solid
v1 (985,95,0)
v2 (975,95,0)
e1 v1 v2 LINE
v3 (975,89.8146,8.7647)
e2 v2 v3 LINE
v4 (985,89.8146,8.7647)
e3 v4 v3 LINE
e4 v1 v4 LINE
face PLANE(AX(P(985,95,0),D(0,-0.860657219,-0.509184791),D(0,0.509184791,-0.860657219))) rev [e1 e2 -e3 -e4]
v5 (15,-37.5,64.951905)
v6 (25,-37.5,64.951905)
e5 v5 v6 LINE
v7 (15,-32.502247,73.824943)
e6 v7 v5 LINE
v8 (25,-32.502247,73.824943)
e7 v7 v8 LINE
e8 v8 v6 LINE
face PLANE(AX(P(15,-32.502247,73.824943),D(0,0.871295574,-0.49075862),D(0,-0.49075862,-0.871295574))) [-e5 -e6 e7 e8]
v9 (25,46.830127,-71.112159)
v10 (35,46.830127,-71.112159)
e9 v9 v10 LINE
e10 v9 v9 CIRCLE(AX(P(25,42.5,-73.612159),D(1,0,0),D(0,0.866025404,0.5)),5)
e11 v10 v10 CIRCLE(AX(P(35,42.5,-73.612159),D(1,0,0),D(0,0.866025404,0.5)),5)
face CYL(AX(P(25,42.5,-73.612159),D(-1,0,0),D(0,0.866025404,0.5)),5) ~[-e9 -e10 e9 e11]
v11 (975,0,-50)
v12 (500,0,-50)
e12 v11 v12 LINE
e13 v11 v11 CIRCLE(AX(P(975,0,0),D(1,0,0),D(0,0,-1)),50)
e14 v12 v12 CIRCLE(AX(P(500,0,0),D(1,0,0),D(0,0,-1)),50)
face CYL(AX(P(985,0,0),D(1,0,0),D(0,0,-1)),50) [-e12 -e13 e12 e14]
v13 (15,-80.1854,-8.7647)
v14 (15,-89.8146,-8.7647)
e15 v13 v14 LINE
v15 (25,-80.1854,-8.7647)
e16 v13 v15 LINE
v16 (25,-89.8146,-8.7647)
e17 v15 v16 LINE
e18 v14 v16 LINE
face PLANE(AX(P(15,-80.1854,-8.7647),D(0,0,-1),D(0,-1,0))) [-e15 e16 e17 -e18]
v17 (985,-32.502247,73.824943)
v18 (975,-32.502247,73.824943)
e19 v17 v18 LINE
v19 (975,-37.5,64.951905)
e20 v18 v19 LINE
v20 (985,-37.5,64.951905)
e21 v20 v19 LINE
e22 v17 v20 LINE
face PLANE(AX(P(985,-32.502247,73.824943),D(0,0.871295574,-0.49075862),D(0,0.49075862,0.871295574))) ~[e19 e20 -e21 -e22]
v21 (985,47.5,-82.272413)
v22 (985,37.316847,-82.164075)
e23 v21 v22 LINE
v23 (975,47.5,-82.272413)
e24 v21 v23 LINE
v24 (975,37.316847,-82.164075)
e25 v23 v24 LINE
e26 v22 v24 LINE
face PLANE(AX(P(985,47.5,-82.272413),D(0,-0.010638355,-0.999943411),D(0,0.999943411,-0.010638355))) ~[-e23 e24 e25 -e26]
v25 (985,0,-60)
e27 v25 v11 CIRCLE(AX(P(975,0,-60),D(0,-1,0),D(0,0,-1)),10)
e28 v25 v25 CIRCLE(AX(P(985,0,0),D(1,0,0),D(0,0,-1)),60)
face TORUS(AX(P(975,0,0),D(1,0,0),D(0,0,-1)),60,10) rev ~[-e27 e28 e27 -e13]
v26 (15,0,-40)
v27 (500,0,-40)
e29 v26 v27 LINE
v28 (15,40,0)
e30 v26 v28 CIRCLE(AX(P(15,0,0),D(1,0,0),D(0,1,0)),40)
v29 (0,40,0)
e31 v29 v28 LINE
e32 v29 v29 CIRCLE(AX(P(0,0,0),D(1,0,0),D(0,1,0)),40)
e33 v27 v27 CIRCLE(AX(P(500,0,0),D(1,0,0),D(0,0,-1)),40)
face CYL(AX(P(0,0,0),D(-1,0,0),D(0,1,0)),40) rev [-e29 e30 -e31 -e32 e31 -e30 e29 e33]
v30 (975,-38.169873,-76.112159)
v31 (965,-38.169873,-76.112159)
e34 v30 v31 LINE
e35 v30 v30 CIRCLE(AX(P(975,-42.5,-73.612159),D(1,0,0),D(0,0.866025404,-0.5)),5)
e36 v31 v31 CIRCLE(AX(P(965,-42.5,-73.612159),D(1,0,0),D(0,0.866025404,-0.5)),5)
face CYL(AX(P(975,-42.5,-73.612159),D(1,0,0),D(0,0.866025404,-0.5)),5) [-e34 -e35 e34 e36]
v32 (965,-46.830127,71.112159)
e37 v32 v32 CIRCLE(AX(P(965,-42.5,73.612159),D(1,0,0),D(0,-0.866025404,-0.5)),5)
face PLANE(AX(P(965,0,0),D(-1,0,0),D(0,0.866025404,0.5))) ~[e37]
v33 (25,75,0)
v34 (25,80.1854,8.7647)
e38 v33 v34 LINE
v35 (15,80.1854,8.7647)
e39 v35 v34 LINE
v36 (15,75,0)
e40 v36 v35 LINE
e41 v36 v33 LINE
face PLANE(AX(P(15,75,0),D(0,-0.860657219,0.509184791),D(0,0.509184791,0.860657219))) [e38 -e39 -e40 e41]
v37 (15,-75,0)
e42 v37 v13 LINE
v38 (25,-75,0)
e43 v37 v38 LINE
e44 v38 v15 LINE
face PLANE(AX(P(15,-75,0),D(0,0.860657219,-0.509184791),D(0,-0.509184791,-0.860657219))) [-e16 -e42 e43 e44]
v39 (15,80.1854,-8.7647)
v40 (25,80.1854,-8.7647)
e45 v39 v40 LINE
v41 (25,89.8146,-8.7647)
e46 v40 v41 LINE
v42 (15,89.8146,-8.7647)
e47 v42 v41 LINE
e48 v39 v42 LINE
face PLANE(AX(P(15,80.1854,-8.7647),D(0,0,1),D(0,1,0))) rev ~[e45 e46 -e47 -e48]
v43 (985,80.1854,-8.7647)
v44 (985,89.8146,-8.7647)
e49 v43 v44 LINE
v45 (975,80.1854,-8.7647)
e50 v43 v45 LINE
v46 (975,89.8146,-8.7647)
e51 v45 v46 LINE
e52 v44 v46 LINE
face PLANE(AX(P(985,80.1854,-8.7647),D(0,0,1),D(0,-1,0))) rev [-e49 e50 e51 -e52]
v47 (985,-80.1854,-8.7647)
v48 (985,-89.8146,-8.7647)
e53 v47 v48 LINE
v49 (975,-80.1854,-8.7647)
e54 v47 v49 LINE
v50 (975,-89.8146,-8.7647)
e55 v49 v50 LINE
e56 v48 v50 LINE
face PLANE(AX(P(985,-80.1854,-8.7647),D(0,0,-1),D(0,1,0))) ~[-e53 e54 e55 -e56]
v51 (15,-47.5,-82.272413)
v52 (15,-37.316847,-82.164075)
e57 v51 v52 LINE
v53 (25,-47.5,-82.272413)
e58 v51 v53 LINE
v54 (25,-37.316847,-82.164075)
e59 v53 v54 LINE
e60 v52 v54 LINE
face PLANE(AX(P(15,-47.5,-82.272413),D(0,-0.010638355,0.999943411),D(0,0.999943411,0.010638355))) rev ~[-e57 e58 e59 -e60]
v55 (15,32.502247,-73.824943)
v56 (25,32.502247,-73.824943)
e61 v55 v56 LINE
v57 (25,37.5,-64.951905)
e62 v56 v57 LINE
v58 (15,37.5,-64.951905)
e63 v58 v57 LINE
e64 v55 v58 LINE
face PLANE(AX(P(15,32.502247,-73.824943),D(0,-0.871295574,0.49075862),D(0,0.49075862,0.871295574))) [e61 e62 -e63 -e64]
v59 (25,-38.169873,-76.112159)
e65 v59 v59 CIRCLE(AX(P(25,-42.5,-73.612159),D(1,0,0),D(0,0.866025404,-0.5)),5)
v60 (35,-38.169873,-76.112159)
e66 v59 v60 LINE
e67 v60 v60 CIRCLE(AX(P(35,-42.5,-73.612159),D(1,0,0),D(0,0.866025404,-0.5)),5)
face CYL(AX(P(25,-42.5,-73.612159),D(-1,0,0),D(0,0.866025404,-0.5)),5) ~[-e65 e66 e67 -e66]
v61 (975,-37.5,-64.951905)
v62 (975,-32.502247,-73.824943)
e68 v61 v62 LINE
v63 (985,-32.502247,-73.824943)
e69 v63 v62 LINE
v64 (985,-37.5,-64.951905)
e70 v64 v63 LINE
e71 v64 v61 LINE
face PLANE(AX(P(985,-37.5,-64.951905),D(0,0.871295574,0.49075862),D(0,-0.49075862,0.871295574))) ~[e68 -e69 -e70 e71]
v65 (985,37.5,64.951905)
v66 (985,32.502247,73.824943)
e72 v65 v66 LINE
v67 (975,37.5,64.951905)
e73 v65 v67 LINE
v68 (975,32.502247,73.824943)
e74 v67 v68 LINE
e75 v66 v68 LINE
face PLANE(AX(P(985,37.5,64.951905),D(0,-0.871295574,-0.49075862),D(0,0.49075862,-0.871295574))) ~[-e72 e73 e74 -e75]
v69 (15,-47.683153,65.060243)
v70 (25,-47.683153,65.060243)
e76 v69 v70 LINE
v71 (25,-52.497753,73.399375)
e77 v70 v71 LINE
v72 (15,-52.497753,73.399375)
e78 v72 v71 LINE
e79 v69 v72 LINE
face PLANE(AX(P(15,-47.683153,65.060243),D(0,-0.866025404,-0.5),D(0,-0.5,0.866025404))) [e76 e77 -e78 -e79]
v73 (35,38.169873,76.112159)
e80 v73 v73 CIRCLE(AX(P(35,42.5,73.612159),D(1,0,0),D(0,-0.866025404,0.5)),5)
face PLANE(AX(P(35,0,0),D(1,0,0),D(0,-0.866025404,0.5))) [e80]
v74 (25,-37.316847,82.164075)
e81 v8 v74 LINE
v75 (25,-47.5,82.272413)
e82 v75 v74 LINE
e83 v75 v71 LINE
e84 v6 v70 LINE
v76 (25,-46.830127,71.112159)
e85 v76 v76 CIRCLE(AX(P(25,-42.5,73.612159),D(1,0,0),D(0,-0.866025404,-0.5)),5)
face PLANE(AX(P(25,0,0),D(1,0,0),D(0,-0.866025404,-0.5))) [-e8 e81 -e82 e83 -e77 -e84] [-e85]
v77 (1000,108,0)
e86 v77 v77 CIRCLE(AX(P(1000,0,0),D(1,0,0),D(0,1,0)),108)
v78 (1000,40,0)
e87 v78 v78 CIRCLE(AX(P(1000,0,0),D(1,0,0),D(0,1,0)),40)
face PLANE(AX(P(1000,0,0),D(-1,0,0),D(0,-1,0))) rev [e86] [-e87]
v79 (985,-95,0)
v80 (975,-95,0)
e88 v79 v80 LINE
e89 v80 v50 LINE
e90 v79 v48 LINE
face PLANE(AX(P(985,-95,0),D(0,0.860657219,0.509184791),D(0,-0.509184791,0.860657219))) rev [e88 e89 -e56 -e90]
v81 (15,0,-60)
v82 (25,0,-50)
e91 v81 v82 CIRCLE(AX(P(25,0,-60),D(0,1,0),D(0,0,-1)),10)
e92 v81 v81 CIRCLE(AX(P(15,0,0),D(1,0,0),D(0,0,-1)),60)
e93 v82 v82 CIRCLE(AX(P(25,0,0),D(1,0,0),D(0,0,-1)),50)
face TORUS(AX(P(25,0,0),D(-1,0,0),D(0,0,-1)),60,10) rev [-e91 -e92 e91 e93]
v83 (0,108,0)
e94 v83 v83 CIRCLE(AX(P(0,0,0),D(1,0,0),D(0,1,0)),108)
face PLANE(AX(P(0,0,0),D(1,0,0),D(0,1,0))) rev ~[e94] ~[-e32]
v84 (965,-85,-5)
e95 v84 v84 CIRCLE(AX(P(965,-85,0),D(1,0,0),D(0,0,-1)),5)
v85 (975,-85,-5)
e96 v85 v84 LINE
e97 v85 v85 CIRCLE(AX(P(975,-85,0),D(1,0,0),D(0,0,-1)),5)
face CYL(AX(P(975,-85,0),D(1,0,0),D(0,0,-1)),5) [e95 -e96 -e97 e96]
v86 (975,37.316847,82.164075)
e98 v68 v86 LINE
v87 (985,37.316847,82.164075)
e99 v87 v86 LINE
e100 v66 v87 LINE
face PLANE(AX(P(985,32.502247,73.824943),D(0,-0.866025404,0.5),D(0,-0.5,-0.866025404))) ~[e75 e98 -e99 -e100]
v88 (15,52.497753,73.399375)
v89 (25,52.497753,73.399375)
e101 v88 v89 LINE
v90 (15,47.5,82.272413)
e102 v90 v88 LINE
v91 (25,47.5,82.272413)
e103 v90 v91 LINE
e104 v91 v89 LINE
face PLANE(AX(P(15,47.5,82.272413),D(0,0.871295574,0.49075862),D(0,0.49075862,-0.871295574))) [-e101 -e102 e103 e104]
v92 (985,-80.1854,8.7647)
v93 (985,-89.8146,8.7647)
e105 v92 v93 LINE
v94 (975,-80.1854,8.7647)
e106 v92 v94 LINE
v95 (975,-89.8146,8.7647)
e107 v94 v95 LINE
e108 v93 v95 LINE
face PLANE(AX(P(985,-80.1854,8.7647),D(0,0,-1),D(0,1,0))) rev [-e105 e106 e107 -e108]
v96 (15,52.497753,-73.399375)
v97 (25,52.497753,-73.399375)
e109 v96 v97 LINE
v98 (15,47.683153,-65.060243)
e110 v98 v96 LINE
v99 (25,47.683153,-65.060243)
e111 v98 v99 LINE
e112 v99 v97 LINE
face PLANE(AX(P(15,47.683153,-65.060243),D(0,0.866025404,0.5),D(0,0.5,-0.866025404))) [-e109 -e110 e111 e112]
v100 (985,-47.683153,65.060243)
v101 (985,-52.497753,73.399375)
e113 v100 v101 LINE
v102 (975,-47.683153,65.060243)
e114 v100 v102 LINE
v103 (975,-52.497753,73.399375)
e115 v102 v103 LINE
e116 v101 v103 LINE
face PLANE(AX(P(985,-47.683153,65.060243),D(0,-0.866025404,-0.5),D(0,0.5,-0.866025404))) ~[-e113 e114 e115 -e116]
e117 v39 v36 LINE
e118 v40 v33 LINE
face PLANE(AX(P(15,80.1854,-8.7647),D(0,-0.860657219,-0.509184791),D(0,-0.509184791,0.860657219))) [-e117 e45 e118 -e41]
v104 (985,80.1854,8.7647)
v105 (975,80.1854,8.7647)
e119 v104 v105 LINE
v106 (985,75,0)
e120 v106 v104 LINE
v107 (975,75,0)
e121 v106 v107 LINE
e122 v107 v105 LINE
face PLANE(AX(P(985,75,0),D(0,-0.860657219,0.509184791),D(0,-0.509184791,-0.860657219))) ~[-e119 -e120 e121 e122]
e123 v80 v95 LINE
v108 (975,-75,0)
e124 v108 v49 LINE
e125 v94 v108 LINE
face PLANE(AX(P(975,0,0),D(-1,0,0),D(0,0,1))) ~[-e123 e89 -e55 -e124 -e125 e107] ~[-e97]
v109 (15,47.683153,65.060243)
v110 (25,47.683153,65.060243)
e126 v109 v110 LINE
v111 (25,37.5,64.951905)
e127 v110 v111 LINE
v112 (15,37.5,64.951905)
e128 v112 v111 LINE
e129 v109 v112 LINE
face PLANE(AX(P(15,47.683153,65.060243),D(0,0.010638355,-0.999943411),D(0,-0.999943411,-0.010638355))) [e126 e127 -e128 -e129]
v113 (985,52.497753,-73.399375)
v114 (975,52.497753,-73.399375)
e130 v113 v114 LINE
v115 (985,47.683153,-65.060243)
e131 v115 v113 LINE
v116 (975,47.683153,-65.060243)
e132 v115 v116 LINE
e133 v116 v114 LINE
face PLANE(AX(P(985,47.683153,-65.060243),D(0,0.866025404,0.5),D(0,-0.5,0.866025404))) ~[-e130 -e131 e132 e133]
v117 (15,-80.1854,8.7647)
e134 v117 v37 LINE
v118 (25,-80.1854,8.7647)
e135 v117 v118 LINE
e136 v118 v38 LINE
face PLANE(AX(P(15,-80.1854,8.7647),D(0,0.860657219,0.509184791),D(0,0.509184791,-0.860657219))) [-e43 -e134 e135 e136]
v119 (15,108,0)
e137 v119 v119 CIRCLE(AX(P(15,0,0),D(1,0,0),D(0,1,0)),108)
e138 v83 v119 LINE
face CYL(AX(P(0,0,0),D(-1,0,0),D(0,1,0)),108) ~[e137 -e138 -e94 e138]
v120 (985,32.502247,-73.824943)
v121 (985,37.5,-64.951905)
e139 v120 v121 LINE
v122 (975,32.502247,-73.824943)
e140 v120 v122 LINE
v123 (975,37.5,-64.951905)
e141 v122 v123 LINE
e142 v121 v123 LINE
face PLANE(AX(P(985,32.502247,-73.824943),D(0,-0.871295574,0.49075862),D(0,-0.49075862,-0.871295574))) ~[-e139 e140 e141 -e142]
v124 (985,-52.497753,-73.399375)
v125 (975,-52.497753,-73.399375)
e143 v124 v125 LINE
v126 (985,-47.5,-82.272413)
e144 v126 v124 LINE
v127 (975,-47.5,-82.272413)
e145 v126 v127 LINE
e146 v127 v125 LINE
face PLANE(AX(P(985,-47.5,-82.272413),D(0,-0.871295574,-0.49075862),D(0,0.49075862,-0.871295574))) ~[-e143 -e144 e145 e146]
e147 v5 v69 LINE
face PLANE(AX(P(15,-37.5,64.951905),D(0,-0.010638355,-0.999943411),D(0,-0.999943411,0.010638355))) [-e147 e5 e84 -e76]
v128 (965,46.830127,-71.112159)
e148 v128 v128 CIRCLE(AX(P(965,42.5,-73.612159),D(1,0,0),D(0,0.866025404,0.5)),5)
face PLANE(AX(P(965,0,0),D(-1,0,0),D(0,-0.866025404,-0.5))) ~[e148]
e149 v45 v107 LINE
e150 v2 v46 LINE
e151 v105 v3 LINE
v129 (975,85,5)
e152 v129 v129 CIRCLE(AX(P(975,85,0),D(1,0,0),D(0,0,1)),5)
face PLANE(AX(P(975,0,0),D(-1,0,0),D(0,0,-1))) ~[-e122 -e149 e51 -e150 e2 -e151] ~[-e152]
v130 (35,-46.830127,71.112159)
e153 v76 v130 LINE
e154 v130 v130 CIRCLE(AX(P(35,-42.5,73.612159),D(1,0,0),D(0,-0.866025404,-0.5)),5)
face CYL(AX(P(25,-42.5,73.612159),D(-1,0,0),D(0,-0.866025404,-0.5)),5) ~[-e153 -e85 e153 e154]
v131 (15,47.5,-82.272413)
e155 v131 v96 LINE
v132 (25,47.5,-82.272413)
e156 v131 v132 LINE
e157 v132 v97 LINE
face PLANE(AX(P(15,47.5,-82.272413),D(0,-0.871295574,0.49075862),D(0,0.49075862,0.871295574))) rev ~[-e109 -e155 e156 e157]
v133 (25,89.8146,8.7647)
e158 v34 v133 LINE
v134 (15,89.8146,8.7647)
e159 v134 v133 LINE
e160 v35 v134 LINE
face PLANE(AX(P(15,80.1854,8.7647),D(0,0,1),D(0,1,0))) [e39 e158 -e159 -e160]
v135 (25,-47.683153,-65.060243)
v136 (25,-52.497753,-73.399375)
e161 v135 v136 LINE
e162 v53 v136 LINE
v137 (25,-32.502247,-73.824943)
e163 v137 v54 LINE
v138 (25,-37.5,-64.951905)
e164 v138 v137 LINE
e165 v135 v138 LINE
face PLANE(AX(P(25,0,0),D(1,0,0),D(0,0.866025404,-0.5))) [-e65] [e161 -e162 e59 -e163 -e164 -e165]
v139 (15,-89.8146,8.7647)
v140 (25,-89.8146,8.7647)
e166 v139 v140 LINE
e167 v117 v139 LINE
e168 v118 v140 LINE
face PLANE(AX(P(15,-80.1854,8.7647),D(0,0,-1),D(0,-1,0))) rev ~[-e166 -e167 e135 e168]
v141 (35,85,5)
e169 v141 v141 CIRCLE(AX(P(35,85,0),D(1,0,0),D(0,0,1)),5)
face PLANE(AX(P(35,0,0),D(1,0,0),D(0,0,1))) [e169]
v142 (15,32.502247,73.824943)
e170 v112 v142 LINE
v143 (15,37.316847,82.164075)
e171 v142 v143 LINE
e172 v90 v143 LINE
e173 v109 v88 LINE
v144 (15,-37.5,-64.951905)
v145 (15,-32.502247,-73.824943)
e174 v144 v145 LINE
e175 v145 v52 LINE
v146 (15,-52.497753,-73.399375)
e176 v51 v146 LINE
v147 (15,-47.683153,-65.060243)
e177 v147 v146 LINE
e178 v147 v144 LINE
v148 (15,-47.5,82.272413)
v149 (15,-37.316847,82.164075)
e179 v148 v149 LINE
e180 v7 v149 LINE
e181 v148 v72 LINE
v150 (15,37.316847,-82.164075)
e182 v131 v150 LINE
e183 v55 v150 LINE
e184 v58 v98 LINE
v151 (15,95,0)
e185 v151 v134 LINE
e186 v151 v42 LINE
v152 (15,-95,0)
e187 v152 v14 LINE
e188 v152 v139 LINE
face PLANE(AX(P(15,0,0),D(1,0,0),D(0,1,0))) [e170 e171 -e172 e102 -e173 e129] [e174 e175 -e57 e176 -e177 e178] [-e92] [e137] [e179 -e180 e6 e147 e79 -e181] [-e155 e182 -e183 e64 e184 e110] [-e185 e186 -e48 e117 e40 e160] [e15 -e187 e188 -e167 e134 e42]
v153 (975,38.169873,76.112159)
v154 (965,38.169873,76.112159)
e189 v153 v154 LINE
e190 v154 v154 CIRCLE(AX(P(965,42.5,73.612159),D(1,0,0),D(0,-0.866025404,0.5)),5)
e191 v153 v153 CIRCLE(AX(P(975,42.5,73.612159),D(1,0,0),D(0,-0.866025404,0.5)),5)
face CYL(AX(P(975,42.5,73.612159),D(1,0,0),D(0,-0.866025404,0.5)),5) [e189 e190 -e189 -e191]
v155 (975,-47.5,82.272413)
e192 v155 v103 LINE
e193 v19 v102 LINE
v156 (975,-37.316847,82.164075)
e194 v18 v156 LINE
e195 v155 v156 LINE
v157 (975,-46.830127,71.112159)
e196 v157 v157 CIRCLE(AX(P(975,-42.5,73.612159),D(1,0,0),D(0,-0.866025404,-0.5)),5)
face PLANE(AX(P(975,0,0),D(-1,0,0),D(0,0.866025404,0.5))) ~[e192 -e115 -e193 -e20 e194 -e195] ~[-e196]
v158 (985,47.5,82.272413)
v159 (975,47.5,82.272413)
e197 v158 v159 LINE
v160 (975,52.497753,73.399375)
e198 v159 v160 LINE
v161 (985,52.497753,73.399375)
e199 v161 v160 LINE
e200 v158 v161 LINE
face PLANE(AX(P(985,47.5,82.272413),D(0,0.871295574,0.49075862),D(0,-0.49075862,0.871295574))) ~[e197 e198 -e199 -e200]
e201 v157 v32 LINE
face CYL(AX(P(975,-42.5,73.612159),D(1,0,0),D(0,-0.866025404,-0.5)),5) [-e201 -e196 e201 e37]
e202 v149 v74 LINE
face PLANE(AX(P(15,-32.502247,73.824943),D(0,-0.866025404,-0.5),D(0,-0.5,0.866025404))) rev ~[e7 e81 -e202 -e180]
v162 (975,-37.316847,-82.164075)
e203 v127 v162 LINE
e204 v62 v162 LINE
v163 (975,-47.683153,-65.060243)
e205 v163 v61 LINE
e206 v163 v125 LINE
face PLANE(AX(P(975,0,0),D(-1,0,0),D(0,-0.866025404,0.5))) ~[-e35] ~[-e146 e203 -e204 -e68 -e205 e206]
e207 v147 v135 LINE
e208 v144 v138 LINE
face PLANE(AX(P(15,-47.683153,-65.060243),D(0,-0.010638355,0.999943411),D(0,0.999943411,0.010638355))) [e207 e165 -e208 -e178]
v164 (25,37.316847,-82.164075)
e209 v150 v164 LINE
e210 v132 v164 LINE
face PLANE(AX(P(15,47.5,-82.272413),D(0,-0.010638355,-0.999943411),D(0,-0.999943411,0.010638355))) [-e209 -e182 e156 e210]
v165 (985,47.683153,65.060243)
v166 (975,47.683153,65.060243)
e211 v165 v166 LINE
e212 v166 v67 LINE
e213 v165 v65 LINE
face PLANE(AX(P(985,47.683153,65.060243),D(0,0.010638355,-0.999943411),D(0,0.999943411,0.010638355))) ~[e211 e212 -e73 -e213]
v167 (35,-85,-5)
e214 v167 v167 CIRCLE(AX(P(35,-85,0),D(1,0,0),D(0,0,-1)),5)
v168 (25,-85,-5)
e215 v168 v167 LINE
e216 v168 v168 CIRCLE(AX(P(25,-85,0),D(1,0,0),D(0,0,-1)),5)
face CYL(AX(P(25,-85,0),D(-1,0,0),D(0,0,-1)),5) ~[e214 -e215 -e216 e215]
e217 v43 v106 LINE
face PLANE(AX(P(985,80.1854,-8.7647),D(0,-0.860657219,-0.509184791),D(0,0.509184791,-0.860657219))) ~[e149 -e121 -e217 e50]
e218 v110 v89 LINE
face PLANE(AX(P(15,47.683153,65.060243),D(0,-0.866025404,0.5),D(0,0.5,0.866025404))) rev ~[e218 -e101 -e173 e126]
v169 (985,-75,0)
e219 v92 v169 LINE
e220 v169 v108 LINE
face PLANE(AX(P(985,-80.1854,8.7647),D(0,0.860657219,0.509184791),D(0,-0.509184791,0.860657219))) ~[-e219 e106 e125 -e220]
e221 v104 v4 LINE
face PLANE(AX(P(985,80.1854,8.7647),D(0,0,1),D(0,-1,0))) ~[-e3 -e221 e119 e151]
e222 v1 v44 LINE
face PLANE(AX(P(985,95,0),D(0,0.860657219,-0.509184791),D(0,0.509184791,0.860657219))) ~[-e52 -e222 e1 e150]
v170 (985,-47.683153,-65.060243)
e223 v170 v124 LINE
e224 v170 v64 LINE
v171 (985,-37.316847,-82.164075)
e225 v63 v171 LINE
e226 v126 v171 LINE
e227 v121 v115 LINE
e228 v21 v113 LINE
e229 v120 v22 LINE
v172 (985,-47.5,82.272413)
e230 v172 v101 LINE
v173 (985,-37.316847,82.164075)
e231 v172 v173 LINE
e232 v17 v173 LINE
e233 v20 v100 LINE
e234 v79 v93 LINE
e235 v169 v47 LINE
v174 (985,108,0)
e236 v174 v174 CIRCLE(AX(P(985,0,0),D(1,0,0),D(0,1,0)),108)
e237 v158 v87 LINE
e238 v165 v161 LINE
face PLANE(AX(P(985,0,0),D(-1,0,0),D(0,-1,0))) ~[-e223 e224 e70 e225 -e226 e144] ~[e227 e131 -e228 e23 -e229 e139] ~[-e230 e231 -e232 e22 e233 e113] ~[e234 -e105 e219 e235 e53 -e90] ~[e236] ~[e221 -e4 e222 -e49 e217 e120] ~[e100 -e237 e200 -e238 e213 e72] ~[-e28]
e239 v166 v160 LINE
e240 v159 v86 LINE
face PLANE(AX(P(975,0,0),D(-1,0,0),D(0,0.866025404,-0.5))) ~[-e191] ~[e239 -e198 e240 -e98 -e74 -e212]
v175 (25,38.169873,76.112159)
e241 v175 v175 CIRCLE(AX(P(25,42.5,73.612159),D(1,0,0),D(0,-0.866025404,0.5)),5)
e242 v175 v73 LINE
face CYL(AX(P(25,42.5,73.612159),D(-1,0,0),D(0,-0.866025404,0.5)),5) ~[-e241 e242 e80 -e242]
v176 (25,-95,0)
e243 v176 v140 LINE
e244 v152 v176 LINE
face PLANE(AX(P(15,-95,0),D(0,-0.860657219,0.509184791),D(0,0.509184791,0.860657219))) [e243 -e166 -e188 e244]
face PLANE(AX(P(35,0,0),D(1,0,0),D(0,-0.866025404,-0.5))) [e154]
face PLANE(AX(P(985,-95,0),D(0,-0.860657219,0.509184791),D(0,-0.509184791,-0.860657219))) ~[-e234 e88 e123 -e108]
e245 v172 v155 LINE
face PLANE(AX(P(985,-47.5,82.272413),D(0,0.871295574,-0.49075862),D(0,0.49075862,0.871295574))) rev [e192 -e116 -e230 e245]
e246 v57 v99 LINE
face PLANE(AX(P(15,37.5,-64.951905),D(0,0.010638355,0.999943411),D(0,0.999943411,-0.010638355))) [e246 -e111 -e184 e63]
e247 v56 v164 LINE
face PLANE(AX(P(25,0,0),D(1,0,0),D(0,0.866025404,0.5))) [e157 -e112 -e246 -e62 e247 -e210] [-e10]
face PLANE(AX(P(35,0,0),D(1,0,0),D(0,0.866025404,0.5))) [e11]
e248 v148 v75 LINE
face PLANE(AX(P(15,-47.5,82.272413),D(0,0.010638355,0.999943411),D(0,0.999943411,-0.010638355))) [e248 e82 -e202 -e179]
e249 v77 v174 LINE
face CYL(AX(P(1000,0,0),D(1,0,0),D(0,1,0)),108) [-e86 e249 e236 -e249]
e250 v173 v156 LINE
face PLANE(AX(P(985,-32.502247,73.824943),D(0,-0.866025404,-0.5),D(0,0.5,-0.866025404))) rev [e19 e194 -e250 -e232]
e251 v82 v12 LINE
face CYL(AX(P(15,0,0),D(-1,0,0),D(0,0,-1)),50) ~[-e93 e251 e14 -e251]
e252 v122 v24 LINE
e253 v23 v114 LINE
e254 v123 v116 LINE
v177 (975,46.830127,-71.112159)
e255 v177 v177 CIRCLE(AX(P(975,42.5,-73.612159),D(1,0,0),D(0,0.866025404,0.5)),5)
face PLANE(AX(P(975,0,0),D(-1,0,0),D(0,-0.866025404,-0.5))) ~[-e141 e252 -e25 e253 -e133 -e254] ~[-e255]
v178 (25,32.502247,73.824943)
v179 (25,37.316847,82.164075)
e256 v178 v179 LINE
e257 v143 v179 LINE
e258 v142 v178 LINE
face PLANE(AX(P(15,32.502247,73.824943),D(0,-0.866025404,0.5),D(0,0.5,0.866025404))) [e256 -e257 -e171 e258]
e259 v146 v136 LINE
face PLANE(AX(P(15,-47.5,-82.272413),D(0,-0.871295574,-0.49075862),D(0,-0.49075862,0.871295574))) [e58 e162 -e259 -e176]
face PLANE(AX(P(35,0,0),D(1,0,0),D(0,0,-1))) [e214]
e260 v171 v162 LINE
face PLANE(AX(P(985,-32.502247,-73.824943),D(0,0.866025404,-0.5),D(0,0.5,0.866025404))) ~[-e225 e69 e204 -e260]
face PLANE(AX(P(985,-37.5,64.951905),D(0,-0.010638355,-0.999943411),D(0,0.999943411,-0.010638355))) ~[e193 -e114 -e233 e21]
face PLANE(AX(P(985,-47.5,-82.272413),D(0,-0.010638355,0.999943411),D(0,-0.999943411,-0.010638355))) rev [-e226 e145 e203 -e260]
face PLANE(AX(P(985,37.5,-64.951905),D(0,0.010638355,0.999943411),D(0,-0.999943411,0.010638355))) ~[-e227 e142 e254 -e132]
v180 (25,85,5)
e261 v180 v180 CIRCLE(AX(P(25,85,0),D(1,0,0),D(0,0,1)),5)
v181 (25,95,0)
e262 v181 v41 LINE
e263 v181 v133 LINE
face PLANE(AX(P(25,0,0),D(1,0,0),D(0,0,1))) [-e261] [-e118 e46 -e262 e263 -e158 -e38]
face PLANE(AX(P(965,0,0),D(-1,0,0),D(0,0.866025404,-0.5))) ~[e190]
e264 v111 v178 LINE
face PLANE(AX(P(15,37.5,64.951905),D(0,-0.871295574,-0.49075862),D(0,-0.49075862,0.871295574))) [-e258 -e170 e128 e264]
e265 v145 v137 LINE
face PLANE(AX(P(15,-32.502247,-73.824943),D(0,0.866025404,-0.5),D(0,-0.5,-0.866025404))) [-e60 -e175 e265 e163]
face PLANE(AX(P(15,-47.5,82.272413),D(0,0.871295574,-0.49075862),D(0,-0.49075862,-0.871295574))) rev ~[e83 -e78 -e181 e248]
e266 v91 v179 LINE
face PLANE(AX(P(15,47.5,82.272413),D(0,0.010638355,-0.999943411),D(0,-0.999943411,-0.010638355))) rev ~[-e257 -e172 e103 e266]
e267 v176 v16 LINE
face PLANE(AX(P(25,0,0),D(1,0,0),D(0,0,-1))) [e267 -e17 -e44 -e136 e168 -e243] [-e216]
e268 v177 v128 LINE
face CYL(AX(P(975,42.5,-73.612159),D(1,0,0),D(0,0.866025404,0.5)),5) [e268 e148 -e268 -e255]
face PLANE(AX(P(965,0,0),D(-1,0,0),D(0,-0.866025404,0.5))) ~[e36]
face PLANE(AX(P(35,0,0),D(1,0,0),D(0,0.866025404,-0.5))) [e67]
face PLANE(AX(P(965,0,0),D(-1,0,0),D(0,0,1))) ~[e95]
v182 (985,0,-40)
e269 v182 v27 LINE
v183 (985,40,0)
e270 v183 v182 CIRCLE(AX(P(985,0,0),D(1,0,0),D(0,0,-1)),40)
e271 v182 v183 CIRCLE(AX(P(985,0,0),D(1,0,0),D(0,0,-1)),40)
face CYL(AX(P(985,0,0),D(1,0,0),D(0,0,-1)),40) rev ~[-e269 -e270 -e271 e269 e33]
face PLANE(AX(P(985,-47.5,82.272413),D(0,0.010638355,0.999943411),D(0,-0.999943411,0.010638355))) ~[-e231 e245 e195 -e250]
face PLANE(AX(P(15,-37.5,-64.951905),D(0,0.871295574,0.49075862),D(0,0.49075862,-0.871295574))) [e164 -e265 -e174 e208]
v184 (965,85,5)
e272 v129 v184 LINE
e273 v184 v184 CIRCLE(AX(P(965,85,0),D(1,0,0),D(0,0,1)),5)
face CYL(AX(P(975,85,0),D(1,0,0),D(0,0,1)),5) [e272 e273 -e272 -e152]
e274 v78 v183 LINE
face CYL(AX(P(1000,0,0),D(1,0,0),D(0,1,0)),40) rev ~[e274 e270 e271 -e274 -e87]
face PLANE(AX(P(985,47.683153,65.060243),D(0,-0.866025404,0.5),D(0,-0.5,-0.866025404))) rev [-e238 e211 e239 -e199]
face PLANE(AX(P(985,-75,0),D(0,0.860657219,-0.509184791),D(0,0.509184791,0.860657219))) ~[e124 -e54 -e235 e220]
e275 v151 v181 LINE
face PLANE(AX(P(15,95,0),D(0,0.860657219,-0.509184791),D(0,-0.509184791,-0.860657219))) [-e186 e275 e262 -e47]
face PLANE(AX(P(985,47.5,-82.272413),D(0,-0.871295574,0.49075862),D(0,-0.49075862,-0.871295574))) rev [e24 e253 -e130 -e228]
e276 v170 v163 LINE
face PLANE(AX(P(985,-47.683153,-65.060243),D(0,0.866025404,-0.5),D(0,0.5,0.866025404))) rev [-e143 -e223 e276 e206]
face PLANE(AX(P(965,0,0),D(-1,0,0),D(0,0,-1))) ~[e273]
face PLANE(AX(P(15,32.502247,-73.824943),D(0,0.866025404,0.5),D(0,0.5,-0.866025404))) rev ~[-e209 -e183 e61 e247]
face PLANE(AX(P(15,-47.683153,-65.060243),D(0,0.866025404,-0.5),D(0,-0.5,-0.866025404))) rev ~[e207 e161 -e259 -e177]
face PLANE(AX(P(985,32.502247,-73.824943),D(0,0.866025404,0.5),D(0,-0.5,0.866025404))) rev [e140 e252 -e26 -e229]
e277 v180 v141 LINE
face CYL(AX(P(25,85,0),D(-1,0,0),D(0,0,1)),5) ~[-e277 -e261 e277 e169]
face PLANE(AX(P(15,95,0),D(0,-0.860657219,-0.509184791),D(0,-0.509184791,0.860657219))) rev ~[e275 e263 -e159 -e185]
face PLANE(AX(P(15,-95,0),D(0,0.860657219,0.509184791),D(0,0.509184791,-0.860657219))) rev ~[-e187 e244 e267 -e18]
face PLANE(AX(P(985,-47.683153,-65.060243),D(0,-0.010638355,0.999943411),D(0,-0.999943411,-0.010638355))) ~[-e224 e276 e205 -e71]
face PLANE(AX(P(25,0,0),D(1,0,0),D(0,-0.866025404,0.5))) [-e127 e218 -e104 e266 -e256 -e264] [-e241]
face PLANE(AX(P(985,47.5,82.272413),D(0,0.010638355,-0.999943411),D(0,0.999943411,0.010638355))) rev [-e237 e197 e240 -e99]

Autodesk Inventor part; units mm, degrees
ref_plane "YZ Plane" through (0, 0, 0) normal (1, 0, 0) x (0, 1, 0)
ref_plane "XZ Plane" through (0, 0, 0) normal (0, 1, 0) x (-1, 0, 0)
ref_plane "XY Plane" through (0, 0, 0) normal (0, 0, 1) x (1, 0, 0)
sketch "Skizze1" plane through (0, 0, 0) normal (1, 0, 0) x (0, 1, 0)
  circle A0 centre (0, 0) radius 40
  circle A1 centre (0, 0) radius 108
  dimension "d0" = 216
  dimension "d1" = 80
extrude "Extrusion1" add sketch "Skizze1" along normal blind 15
sketch "Skizze2" plane through (15, 0, 0) normal (1, 0, 0) x (0, 0, -1)
  circle A0 centre (0, 0) radius 40
  circle A1 centre (0, 0) radius 50
  dimension "d4" = 100
extrude "Extrusion2" add sketch "Skizze2" along normal blind 485
fillet "Rundung1" radius 10 1 edges at (15, 0, 50)
sketch "Skizze3" plane through (15, 0, 0) normal (1, 0, 0) x (0, 0, -1)
  circle A0 centre (0, -85) radius 10 construction
  line L0 (0, -95) -> (-8.7647, -89.8146)
  line L1 (-8.7647, -80.1854) -> (0, -75)
  line L2 (0, -75) -> (8.7647, -80.1854)
  line L3 (8.7647, -80.1854) -> (8.7647, -89.8146)
  line L4 (0, -95) -> (8.7647, -89.8146)
  line L5 (-8.7647, -80.1854) -> (-8.7647, -89.8146)
  point P0 (0, 0)
  dimension "d8" = 20
  dimension "d9" = 85
extrude "Extrusion3" add sketch "Skizze3" along normal blind 10
sketch "Skizze4" plane through (25, 0, 0) normal (1, 0, 0) x (0, 0, -1)
  circle A0 centre (0, -85) radius 5
  point P0 (0, 0)
  dimension "d12" = 10
extrude "Extrusion4" add sketch "Skizze4" along normal blind 10
pattern_circular "Runde Anordnung1" count 6 over 360 about axis through (-10, 0, 0) along (1, 0, 0) of "Extrusion3", "Extrusion4"
mirror "Spiegeln1" about plane through (500, 0, 0) normal (1, 0, 0) of "Extrusion3", "Extrusion4", "Runde Anordnung1", "Extrusion2", "Extrusion1", "Rundung1"
properties part number "DN80-1m"
